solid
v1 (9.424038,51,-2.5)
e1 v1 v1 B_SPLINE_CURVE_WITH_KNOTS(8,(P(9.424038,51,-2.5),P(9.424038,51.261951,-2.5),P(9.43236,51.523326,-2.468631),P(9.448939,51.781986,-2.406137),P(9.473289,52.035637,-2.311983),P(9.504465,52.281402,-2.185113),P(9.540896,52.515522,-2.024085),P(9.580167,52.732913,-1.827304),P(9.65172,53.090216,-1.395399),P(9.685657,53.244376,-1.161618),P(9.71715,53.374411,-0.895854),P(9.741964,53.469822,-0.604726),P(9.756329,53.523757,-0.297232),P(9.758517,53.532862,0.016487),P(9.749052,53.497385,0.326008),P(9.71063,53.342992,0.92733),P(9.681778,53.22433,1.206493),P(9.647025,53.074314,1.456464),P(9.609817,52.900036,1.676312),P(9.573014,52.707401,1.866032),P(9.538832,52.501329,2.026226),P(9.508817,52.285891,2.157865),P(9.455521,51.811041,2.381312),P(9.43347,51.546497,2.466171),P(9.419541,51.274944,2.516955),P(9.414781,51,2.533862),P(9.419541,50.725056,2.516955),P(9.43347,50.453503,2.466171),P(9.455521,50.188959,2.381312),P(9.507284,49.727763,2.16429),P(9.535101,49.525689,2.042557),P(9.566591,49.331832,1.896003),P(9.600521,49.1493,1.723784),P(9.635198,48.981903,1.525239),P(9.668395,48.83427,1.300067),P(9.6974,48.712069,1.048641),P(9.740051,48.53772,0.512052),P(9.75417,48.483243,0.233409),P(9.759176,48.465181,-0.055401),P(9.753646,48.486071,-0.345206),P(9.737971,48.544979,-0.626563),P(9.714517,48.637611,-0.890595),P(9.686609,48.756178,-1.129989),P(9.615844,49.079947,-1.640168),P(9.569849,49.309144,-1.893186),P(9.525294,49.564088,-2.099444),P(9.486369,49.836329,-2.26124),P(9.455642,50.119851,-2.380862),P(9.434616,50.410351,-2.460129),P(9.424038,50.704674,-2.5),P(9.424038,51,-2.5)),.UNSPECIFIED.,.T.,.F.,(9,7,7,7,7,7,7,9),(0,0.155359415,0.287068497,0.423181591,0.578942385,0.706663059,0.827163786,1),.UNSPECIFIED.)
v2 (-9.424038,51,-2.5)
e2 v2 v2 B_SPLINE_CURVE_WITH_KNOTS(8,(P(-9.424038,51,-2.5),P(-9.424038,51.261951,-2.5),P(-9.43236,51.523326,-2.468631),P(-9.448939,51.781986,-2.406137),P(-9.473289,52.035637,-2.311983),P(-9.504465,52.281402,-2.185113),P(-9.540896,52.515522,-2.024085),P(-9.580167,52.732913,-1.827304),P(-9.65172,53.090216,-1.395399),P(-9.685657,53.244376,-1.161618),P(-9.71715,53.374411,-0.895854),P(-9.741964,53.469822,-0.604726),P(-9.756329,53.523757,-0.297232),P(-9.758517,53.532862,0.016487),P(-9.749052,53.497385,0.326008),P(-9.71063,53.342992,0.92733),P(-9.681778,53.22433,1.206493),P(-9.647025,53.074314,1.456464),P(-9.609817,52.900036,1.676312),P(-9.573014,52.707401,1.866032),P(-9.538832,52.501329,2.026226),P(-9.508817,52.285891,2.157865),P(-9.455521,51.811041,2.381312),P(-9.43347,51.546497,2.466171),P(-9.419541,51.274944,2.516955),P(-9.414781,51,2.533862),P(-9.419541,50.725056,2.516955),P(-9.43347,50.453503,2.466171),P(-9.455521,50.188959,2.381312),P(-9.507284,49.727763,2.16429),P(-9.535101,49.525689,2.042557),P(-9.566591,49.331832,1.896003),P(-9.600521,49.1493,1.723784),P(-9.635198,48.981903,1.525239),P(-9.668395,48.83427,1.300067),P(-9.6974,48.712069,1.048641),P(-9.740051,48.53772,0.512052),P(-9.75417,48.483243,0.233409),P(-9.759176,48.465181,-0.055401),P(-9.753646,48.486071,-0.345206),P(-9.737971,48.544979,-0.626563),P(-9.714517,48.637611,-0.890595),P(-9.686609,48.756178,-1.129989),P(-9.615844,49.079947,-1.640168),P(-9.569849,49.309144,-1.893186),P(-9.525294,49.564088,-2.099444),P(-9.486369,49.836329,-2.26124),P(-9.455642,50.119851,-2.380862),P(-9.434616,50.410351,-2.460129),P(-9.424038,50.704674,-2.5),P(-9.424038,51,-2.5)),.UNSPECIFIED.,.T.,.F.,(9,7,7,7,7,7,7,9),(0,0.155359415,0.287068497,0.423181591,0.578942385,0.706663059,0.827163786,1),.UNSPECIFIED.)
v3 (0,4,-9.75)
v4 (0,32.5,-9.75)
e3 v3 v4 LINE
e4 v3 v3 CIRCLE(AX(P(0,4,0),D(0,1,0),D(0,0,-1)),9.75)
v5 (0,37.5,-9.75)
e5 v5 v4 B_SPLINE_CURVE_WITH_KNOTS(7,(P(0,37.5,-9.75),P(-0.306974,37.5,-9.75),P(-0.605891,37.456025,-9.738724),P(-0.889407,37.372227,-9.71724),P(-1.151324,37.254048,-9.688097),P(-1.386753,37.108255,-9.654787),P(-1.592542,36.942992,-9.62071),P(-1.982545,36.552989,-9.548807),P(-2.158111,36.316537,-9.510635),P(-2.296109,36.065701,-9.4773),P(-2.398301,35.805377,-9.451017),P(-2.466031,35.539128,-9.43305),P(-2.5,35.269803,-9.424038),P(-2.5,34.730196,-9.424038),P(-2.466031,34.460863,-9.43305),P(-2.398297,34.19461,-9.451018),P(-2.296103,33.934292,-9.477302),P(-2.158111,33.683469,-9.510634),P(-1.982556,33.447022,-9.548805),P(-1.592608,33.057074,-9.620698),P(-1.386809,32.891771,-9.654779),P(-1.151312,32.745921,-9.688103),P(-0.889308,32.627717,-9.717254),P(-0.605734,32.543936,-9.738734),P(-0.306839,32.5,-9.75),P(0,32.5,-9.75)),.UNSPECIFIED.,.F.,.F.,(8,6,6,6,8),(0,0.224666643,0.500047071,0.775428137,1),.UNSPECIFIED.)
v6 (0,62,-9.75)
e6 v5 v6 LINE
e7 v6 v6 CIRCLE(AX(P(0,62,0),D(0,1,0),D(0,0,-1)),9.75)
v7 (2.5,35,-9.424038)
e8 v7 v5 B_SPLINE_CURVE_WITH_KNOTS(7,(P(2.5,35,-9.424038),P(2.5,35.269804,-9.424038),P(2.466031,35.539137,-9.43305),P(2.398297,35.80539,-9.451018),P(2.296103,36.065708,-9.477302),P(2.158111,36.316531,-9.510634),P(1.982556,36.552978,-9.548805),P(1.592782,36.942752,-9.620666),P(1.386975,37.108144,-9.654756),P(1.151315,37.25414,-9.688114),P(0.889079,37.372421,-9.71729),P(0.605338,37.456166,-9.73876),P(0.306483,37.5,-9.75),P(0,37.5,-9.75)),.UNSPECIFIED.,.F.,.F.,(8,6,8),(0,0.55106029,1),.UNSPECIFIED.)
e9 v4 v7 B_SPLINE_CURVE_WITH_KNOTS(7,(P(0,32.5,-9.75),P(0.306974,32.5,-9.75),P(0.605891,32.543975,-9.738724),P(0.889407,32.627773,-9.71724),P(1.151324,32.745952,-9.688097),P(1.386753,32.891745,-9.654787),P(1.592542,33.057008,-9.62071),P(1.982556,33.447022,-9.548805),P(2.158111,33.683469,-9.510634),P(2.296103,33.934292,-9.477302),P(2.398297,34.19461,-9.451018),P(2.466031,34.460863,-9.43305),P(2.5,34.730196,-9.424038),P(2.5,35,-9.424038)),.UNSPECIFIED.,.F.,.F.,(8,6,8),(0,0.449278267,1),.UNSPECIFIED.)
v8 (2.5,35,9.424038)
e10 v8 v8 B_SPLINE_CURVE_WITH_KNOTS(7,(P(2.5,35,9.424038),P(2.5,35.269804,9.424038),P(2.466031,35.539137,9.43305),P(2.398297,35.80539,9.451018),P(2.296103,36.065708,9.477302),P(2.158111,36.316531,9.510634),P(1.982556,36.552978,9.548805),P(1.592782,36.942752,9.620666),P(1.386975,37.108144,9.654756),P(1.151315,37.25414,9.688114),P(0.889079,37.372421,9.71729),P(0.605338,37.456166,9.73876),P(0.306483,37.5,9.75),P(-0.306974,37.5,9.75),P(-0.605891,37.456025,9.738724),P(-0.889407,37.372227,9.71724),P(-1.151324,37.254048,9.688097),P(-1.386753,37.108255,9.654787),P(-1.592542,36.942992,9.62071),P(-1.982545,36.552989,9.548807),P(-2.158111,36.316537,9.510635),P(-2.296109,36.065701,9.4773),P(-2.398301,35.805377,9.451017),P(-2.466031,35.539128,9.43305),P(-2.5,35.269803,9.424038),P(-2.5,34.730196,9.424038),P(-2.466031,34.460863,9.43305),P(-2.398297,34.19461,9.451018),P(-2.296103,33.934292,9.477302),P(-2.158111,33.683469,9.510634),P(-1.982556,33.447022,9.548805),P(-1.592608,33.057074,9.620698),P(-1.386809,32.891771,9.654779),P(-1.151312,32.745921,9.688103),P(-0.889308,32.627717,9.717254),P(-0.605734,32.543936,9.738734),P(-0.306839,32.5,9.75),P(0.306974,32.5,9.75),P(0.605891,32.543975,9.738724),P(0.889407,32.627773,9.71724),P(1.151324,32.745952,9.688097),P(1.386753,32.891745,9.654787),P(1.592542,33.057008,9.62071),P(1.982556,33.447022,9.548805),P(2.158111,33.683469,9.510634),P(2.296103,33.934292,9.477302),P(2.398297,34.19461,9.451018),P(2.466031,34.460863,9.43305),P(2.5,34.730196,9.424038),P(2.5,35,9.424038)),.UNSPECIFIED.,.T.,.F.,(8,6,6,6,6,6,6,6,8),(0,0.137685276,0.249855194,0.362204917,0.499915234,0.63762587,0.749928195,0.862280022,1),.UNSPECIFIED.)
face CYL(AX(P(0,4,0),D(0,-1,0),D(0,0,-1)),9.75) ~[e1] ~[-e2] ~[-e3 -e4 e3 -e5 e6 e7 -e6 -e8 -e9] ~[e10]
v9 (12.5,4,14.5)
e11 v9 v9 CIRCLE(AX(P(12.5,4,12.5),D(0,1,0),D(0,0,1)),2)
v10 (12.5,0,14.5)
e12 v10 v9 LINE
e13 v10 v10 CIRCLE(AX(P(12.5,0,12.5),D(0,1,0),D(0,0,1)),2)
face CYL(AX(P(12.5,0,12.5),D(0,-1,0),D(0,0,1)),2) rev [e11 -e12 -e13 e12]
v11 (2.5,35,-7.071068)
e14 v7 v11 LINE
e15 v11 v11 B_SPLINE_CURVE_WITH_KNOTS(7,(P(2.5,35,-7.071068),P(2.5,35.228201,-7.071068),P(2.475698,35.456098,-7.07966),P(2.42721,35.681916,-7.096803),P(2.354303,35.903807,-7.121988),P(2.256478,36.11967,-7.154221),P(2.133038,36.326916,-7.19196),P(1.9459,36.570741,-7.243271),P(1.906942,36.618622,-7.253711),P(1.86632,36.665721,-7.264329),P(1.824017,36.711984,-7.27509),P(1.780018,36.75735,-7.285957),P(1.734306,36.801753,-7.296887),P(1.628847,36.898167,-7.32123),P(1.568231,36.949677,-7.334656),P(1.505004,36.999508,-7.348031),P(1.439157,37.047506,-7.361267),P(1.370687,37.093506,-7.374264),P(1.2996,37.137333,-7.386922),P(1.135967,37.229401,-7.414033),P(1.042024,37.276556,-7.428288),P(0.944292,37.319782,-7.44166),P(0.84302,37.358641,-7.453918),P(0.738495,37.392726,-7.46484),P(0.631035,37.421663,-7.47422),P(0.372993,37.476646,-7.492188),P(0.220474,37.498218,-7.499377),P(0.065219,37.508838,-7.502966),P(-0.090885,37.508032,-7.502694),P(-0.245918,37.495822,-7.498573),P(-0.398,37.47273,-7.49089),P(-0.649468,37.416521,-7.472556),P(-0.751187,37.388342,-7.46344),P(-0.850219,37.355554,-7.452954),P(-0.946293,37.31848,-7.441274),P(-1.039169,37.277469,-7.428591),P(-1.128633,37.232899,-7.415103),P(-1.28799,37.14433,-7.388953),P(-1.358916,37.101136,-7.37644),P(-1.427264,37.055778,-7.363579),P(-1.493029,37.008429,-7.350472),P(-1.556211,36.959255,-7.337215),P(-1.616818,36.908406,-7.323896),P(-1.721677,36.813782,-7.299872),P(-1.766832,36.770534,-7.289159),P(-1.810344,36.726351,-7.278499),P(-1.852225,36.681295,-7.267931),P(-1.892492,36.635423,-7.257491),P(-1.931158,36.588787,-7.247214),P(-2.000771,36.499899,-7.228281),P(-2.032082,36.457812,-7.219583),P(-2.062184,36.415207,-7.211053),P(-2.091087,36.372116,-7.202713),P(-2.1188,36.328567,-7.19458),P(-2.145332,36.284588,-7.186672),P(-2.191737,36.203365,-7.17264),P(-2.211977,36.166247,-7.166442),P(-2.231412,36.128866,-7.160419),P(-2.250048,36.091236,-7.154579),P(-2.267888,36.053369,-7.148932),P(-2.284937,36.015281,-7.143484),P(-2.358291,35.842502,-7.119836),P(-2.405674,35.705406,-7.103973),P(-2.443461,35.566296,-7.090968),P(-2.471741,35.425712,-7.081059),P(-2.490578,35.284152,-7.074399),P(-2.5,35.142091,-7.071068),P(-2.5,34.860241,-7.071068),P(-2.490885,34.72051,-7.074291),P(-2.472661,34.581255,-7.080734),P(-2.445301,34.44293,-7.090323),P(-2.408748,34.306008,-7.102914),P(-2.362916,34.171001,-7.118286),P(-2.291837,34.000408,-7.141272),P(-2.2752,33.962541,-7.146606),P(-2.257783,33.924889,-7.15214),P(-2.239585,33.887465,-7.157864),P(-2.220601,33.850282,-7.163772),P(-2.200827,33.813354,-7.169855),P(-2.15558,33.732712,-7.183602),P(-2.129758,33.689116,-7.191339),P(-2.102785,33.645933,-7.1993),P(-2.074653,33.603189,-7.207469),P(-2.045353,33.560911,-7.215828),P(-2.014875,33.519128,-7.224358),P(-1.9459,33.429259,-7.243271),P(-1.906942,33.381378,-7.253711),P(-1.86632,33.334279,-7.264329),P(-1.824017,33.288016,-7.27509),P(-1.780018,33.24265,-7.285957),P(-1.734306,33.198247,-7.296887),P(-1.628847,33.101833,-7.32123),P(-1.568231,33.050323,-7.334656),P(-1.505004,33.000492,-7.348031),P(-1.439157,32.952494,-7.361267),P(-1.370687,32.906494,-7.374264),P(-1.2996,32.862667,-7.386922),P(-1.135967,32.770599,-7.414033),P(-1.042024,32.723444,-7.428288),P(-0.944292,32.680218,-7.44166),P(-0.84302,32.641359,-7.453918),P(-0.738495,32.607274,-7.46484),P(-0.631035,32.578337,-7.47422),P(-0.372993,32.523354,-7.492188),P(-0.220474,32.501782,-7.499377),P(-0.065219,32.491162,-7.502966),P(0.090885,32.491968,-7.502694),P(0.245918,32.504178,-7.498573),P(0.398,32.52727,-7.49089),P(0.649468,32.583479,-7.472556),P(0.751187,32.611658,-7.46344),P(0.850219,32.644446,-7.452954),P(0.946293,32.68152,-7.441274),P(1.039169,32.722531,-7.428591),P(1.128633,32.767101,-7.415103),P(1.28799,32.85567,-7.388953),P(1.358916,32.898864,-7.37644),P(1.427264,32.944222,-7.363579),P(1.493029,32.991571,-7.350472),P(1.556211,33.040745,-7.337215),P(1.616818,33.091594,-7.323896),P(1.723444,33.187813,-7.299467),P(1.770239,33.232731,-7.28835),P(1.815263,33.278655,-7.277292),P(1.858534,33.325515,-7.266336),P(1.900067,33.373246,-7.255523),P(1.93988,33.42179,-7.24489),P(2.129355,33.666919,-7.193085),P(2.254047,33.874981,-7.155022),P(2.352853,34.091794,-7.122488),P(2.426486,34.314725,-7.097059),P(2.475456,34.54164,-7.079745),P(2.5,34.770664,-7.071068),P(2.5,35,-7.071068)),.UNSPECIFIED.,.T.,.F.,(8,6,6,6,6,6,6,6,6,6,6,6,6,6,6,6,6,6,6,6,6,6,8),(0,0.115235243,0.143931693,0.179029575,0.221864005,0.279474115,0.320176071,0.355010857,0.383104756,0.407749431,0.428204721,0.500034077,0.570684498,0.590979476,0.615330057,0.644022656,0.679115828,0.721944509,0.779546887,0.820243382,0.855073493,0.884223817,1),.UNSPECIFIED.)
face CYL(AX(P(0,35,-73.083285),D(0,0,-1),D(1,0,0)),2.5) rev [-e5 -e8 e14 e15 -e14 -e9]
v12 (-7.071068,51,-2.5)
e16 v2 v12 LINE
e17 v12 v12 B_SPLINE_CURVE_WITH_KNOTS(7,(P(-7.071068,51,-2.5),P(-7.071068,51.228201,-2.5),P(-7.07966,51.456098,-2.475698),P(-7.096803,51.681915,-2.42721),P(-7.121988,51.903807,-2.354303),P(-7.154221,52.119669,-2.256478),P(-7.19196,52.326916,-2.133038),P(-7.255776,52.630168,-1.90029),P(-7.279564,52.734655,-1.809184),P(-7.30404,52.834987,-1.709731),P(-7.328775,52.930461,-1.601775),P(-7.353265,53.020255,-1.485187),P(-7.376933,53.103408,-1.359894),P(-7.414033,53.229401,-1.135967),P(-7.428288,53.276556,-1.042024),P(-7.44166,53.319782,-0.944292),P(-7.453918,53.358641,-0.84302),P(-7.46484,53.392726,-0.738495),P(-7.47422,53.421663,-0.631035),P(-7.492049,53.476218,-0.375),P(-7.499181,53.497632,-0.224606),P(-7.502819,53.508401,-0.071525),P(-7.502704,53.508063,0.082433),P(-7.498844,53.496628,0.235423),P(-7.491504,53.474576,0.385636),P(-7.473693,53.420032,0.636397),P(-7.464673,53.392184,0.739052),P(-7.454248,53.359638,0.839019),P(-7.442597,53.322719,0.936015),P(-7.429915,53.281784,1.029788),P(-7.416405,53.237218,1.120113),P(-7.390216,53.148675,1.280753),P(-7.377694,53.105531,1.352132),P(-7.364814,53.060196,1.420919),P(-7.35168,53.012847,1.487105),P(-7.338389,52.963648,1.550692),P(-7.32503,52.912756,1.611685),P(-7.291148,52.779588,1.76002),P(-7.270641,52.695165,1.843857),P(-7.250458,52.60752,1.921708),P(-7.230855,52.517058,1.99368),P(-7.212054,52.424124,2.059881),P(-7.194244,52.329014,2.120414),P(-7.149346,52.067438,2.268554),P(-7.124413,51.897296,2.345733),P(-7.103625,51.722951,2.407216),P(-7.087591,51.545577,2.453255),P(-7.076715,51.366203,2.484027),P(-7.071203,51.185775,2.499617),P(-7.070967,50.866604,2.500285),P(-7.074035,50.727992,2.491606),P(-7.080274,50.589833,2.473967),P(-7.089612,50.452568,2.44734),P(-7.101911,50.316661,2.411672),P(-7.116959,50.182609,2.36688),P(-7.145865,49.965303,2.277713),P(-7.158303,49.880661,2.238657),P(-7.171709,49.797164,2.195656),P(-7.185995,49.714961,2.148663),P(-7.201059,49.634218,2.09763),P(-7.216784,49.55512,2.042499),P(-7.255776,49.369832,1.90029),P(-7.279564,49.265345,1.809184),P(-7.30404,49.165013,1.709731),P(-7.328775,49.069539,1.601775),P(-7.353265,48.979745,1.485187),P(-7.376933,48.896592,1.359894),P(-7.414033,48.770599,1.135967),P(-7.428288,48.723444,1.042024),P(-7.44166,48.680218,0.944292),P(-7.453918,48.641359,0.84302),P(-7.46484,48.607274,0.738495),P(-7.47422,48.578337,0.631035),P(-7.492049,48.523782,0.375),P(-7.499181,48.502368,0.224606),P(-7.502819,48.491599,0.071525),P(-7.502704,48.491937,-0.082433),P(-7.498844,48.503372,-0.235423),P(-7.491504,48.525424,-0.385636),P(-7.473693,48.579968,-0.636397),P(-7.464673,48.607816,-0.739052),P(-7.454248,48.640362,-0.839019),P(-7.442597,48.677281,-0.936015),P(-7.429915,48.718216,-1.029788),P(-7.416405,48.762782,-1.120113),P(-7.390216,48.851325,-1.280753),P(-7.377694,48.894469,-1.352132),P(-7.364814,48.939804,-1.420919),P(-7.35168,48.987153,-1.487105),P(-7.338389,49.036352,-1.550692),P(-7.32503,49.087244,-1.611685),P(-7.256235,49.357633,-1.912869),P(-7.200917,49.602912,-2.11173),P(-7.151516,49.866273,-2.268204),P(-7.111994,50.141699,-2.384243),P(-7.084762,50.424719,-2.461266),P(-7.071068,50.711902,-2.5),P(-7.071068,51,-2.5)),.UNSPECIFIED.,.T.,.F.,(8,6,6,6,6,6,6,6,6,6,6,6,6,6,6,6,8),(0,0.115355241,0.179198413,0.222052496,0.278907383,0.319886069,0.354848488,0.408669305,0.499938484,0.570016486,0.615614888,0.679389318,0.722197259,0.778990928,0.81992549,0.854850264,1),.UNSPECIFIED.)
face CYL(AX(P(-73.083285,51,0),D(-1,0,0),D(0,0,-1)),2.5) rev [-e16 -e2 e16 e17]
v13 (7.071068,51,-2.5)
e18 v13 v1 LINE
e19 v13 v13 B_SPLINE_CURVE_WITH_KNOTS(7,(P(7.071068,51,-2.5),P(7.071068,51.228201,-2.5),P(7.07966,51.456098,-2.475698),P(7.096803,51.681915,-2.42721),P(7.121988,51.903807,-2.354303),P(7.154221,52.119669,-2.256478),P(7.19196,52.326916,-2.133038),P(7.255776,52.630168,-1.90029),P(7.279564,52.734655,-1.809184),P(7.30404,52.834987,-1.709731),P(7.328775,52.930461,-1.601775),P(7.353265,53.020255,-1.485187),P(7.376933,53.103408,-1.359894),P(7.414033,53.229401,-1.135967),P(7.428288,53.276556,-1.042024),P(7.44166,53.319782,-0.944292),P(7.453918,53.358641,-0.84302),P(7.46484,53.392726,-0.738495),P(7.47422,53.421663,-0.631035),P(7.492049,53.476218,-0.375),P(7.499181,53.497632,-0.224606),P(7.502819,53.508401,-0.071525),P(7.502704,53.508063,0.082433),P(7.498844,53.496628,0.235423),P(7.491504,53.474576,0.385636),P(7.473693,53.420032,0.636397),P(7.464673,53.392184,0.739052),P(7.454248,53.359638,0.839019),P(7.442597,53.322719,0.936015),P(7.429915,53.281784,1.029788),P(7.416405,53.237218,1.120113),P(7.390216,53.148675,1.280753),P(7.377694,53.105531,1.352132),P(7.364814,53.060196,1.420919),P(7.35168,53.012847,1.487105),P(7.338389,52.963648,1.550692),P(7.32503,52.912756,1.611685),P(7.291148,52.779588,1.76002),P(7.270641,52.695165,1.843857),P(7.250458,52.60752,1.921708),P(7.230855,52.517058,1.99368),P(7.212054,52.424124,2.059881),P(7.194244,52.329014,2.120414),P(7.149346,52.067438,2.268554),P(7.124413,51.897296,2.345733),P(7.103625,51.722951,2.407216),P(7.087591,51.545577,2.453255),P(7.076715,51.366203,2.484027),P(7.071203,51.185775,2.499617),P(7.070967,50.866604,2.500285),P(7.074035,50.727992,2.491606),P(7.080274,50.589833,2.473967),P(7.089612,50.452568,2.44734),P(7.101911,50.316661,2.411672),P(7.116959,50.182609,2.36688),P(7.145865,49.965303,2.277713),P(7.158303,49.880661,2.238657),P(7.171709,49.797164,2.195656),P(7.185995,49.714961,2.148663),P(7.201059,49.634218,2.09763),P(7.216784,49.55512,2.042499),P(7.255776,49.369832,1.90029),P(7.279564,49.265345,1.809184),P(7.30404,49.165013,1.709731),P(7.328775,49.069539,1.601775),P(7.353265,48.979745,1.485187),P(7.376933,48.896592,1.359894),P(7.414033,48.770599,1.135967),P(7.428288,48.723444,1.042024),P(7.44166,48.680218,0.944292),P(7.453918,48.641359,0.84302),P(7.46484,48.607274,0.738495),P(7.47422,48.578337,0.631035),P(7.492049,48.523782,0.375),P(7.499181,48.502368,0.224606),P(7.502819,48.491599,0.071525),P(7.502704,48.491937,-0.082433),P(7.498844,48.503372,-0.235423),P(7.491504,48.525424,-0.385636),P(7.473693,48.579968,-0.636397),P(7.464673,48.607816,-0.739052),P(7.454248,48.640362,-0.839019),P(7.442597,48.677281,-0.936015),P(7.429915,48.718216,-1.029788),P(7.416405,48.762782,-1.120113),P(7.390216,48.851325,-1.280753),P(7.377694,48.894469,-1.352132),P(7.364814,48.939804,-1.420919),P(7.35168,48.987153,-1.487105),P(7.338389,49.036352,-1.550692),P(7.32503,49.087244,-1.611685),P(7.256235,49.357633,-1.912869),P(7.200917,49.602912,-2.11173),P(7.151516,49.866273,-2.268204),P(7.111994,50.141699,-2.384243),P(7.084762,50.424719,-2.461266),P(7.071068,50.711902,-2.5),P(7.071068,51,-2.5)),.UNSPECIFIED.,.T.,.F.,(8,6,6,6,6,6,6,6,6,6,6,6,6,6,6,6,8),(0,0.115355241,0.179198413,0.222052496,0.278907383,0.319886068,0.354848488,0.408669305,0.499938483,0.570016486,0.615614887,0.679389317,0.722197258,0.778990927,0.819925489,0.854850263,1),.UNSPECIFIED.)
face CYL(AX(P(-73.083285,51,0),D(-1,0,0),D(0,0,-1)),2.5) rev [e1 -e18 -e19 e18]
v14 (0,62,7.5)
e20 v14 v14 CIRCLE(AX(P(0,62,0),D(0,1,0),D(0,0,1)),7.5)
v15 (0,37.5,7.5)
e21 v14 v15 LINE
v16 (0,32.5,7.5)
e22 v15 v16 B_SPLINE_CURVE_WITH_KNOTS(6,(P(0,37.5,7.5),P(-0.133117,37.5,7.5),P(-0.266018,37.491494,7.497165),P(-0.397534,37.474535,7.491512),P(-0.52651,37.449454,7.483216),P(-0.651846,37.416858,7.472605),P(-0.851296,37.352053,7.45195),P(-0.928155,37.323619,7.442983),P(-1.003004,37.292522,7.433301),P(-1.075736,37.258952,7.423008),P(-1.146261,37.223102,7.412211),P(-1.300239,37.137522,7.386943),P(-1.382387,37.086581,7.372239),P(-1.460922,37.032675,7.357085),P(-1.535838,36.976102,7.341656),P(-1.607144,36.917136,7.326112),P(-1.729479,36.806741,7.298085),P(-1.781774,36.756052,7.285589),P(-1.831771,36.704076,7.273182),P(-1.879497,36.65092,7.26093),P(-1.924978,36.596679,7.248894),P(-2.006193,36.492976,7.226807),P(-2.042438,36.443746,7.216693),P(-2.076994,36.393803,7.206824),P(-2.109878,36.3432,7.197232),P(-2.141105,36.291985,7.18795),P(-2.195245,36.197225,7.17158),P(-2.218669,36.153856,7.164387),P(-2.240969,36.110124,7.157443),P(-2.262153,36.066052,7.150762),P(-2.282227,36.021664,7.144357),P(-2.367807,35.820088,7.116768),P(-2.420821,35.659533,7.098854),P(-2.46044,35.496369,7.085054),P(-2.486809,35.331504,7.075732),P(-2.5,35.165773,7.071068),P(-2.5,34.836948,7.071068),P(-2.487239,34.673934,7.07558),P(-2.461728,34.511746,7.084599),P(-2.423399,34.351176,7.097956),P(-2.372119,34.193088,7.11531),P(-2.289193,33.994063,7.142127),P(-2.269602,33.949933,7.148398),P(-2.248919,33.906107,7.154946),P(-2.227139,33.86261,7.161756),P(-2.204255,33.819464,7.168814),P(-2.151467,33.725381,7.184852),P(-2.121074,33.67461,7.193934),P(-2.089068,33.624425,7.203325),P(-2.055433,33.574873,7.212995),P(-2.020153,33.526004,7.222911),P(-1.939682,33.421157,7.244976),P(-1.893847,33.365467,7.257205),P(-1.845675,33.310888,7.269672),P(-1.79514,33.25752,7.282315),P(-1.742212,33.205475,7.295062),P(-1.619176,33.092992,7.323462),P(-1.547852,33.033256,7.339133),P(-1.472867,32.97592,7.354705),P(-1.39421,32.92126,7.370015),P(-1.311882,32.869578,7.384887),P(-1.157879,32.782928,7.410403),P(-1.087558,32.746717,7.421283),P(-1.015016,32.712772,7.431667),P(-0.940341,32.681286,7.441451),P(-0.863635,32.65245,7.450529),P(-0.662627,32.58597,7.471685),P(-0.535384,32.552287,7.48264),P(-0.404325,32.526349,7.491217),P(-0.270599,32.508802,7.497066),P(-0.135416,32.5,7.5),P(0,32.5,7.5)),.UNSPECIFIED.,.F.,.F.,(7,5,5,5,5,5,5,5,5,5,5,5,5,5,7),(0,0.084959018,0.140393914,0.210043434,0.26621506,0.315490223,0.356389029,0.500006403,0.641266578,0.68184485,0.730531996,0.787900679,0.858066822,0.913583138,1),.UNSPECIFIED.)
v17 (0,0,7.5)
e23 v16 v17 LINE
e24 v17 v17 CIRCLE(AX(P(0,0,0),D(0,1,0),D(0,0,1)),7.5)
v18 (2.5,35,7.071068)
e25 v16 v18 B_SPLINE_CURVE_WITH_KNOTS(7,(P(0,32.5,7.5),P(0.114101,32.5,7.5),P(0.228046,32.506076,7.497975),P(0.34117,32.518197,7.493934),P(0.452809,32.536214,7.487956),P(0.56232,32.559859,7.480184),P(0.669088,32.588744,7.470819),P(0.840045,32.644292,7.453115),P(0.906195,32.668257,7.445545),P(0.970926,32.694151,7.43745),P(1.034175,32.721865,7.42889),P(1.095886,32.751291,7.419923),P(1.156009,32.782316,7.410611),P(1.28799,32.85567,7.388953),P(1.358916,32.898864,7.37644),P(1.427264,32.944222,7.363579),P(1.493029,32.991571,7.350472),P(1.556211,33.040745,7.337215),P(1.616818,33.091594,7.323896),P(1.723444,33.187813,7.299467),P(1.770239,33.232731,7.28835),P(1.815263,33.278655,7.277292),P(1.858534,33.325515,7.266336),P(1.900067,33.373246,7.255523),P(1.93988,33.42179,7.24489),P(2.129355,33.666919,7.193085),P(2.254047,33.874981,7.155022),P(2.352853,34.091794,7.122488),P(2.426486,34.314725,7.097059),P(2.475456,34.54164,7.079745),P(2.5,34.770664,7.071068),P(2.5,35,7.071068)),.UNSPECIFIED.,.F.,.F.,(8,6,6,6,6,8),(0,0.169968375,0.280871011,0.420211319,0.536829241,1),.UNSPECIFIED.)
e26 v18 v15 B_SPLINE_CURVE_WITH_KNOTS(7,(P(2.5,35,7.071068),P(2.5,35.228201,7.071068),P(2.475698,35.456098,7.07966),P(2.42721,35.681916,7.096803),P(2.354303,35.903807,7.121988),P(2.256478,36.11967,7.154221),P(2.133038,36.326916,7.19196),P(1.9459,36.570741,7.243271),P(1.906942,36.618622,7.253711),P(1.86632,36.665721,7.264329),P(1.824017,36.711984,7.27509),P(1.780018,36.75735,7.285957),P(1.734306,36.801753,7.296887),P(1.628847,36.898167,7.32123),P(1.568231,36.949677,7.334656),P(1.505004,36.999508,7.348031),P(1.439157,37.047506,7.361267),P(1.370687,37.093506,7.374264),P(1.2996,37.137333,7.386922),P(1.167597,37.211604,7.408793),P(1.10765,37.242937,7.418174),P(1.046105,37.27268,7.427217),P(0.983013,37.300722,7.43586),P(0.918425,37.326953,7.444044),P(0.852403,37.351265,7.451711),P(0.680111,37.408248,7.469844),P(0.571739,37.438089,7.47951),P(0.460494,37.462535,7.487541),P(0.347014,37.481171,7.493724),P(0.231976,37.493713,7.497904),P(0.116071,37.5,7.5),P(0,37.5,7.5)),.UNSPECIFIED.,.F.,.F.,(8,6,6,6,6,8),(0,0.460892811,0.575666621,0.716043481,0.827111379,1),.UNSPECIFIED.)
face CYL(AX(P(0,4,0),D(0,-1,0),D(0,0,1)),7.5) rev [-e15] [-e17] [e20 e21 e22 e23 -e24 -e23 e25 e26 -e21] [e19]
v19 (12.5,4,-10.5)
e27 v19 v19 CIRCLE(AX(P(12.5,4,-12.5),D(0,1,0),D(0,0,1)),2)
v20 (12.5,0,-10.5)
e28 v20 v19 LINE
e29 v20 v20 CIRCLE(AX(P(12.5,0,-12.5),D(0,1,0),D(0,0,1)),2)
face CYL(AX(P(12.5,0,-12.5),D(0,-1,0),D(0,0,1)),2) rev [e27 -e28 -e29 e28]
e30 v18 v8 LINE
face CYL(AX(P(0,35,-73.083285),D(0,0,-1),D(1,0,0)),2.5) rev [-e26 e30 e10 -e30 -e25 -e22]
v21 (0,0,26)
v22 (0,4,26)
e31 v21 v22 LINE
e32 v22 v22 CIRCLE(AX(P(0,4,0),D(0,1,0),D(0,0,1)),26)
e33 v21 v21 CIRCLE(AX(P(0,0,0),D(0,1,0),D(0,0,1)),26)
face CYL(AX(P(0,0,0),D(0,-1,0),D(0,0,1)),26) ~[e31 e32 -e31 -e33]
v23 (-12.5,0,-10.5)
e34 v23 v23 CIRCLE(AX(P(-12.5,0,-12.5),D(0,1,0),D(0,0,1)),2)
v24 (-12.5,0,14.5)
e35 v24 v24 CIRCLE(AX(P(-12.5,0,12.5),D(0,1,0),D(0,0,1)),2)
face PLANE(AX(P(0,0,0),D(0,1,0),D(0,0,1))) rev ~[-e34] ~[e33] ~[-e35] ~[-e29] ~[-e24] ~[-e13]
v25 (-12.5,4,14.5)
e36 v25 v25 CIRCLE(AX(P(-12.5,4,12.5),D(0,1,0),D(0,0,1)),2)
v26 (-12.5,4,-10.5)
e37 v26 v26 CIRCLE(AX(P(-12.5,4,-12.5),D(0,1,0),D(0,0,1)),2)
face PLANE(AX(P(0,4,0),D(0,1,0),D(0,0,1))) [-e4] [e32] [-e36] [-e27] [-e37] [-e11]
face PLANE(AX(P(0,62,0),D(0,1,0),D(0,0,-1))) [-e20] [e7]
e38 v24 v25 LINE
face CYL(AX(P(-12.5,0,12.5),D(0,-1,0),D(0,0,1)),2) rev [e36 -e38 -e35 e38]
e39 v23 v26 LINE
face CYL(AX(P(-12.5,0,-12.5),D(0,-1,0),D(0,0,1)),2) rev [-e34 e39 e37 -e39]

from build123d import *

# Parameters (mm, degrees)
SKETCH1_R               = 26
SKETCH1_R_2             = 2
SKETCH1_R_3             = 7.5
BOSS_EXTRUDE1_DEPTH     = 4
SKETCH3_R               = 9.75
SKETCH3_R_2             = 7.5
BOSS_EXTRUDE2_DEPTH     = 58
CUT_EXTRUDE1_DEPTH      = 73.083285164
CUT_EXTRUDE1_DEPTH_BACK = 73.083285164
SKETCH5_R               = 2.5
CUT_EXTRUDE2_DEPTH      = 73.08328525
CUT_EXTRUDE2_DEPTH_BACK = 73.08328525
SKETCH6_R               = 2.5


with BuildPart() as part:
    # Sketch1 → Boss-Extrude1 (new body)
    with BuildSketch(Plane(origin=(0, 0, 0), x_dir=(1, 0, 0), z_dir=(0, 1, 0))):
        with Locations(Location((0, 0, 0), (0, 0, 270))):
            Circle(SKETCH1_R)
        with Locations(Location((-12.5, 12.5, 0), (0, 0, 270))):
            Circle(SKETCH1_R_2, mode=Mode.SUBTRACT)
        with Locations(Location((-12.5, -12.5, 0), (0, 0, 270))):
            Circle(SKETCH1_R_2, mode=Mode.SUBTRACT)
        with Locations(Location((12.5, 12.5, 0), (0, 0, 270))):
            Circle(SKETCH1_R_2, mode=Mode.SUBTRACT)
        with Locations(Location((12.5, -12.5, 0), (0, 0, 270))):
            Circle(SKETCH1_R_2, mode=Mode.SUBTRACT)
        with Locations(Location((0, 0, 0), (0, 0, 270))):
            Circle(SKETCH1_R_3, mode=Mode.SUBTRACT)
    extrude(amount=BOSS_EXTRUDE1_DEPTH)

    # Sketch3 → Boss-Extrude2 (add)
    with BuildSketch(Plane(origin=(0, 4, 0), x_dir=(1, 0, 0), z_dir=(0, 1, 0))):
        with Locations(Location((0, 0, 0), (0, 0, 90))):
            Circle(SKETCH3_R)
        with Locations(Location((0, 0, 0), (0, 0, 270))):
            Circle(SKETCH3_R_2, mode=Mode.SUBTRACT)
    extrude(amount=BOSS_EXTRUDE2_DEPTH)

    # Sketch5 → Cut-Extrude1 (cut, two sides: drawn at the far end of the back side and taken through both)
    with BuildSketch(Plane.XY.offset(-CUT_EXTRUDE1_DEPTH_BACK)):
        with Locations((0, 35)):
            Circle(SKETCH5_R)
    extrude(amount=CUT_EXTRUDE1_DEPTH + CUT_EXTRUDE1_DEPTH_BACK, mode=Mode.SUBTRACT)

    # Sketch6 → Cut-Extrude2 (cut, two sides: drawn at the far end of the back side and taken through both)
    with BuildSketch(Plane(origin=(0, 0, 0), x_dir=(0, 0, -1), z_dir=(1, 0, 0)).offset(-CUT_EXTRUDE2_DEPTH_BACK)):
        with Locations((0, 51)):
            Circle(SKETCH6_R)
    extrude(amount=CUT_EXTRUDE2_DEPTH + CUT_EXTRUDE2_DEPTH_BACK, mode=Mode.SUBTRACT)


solid = part.part
